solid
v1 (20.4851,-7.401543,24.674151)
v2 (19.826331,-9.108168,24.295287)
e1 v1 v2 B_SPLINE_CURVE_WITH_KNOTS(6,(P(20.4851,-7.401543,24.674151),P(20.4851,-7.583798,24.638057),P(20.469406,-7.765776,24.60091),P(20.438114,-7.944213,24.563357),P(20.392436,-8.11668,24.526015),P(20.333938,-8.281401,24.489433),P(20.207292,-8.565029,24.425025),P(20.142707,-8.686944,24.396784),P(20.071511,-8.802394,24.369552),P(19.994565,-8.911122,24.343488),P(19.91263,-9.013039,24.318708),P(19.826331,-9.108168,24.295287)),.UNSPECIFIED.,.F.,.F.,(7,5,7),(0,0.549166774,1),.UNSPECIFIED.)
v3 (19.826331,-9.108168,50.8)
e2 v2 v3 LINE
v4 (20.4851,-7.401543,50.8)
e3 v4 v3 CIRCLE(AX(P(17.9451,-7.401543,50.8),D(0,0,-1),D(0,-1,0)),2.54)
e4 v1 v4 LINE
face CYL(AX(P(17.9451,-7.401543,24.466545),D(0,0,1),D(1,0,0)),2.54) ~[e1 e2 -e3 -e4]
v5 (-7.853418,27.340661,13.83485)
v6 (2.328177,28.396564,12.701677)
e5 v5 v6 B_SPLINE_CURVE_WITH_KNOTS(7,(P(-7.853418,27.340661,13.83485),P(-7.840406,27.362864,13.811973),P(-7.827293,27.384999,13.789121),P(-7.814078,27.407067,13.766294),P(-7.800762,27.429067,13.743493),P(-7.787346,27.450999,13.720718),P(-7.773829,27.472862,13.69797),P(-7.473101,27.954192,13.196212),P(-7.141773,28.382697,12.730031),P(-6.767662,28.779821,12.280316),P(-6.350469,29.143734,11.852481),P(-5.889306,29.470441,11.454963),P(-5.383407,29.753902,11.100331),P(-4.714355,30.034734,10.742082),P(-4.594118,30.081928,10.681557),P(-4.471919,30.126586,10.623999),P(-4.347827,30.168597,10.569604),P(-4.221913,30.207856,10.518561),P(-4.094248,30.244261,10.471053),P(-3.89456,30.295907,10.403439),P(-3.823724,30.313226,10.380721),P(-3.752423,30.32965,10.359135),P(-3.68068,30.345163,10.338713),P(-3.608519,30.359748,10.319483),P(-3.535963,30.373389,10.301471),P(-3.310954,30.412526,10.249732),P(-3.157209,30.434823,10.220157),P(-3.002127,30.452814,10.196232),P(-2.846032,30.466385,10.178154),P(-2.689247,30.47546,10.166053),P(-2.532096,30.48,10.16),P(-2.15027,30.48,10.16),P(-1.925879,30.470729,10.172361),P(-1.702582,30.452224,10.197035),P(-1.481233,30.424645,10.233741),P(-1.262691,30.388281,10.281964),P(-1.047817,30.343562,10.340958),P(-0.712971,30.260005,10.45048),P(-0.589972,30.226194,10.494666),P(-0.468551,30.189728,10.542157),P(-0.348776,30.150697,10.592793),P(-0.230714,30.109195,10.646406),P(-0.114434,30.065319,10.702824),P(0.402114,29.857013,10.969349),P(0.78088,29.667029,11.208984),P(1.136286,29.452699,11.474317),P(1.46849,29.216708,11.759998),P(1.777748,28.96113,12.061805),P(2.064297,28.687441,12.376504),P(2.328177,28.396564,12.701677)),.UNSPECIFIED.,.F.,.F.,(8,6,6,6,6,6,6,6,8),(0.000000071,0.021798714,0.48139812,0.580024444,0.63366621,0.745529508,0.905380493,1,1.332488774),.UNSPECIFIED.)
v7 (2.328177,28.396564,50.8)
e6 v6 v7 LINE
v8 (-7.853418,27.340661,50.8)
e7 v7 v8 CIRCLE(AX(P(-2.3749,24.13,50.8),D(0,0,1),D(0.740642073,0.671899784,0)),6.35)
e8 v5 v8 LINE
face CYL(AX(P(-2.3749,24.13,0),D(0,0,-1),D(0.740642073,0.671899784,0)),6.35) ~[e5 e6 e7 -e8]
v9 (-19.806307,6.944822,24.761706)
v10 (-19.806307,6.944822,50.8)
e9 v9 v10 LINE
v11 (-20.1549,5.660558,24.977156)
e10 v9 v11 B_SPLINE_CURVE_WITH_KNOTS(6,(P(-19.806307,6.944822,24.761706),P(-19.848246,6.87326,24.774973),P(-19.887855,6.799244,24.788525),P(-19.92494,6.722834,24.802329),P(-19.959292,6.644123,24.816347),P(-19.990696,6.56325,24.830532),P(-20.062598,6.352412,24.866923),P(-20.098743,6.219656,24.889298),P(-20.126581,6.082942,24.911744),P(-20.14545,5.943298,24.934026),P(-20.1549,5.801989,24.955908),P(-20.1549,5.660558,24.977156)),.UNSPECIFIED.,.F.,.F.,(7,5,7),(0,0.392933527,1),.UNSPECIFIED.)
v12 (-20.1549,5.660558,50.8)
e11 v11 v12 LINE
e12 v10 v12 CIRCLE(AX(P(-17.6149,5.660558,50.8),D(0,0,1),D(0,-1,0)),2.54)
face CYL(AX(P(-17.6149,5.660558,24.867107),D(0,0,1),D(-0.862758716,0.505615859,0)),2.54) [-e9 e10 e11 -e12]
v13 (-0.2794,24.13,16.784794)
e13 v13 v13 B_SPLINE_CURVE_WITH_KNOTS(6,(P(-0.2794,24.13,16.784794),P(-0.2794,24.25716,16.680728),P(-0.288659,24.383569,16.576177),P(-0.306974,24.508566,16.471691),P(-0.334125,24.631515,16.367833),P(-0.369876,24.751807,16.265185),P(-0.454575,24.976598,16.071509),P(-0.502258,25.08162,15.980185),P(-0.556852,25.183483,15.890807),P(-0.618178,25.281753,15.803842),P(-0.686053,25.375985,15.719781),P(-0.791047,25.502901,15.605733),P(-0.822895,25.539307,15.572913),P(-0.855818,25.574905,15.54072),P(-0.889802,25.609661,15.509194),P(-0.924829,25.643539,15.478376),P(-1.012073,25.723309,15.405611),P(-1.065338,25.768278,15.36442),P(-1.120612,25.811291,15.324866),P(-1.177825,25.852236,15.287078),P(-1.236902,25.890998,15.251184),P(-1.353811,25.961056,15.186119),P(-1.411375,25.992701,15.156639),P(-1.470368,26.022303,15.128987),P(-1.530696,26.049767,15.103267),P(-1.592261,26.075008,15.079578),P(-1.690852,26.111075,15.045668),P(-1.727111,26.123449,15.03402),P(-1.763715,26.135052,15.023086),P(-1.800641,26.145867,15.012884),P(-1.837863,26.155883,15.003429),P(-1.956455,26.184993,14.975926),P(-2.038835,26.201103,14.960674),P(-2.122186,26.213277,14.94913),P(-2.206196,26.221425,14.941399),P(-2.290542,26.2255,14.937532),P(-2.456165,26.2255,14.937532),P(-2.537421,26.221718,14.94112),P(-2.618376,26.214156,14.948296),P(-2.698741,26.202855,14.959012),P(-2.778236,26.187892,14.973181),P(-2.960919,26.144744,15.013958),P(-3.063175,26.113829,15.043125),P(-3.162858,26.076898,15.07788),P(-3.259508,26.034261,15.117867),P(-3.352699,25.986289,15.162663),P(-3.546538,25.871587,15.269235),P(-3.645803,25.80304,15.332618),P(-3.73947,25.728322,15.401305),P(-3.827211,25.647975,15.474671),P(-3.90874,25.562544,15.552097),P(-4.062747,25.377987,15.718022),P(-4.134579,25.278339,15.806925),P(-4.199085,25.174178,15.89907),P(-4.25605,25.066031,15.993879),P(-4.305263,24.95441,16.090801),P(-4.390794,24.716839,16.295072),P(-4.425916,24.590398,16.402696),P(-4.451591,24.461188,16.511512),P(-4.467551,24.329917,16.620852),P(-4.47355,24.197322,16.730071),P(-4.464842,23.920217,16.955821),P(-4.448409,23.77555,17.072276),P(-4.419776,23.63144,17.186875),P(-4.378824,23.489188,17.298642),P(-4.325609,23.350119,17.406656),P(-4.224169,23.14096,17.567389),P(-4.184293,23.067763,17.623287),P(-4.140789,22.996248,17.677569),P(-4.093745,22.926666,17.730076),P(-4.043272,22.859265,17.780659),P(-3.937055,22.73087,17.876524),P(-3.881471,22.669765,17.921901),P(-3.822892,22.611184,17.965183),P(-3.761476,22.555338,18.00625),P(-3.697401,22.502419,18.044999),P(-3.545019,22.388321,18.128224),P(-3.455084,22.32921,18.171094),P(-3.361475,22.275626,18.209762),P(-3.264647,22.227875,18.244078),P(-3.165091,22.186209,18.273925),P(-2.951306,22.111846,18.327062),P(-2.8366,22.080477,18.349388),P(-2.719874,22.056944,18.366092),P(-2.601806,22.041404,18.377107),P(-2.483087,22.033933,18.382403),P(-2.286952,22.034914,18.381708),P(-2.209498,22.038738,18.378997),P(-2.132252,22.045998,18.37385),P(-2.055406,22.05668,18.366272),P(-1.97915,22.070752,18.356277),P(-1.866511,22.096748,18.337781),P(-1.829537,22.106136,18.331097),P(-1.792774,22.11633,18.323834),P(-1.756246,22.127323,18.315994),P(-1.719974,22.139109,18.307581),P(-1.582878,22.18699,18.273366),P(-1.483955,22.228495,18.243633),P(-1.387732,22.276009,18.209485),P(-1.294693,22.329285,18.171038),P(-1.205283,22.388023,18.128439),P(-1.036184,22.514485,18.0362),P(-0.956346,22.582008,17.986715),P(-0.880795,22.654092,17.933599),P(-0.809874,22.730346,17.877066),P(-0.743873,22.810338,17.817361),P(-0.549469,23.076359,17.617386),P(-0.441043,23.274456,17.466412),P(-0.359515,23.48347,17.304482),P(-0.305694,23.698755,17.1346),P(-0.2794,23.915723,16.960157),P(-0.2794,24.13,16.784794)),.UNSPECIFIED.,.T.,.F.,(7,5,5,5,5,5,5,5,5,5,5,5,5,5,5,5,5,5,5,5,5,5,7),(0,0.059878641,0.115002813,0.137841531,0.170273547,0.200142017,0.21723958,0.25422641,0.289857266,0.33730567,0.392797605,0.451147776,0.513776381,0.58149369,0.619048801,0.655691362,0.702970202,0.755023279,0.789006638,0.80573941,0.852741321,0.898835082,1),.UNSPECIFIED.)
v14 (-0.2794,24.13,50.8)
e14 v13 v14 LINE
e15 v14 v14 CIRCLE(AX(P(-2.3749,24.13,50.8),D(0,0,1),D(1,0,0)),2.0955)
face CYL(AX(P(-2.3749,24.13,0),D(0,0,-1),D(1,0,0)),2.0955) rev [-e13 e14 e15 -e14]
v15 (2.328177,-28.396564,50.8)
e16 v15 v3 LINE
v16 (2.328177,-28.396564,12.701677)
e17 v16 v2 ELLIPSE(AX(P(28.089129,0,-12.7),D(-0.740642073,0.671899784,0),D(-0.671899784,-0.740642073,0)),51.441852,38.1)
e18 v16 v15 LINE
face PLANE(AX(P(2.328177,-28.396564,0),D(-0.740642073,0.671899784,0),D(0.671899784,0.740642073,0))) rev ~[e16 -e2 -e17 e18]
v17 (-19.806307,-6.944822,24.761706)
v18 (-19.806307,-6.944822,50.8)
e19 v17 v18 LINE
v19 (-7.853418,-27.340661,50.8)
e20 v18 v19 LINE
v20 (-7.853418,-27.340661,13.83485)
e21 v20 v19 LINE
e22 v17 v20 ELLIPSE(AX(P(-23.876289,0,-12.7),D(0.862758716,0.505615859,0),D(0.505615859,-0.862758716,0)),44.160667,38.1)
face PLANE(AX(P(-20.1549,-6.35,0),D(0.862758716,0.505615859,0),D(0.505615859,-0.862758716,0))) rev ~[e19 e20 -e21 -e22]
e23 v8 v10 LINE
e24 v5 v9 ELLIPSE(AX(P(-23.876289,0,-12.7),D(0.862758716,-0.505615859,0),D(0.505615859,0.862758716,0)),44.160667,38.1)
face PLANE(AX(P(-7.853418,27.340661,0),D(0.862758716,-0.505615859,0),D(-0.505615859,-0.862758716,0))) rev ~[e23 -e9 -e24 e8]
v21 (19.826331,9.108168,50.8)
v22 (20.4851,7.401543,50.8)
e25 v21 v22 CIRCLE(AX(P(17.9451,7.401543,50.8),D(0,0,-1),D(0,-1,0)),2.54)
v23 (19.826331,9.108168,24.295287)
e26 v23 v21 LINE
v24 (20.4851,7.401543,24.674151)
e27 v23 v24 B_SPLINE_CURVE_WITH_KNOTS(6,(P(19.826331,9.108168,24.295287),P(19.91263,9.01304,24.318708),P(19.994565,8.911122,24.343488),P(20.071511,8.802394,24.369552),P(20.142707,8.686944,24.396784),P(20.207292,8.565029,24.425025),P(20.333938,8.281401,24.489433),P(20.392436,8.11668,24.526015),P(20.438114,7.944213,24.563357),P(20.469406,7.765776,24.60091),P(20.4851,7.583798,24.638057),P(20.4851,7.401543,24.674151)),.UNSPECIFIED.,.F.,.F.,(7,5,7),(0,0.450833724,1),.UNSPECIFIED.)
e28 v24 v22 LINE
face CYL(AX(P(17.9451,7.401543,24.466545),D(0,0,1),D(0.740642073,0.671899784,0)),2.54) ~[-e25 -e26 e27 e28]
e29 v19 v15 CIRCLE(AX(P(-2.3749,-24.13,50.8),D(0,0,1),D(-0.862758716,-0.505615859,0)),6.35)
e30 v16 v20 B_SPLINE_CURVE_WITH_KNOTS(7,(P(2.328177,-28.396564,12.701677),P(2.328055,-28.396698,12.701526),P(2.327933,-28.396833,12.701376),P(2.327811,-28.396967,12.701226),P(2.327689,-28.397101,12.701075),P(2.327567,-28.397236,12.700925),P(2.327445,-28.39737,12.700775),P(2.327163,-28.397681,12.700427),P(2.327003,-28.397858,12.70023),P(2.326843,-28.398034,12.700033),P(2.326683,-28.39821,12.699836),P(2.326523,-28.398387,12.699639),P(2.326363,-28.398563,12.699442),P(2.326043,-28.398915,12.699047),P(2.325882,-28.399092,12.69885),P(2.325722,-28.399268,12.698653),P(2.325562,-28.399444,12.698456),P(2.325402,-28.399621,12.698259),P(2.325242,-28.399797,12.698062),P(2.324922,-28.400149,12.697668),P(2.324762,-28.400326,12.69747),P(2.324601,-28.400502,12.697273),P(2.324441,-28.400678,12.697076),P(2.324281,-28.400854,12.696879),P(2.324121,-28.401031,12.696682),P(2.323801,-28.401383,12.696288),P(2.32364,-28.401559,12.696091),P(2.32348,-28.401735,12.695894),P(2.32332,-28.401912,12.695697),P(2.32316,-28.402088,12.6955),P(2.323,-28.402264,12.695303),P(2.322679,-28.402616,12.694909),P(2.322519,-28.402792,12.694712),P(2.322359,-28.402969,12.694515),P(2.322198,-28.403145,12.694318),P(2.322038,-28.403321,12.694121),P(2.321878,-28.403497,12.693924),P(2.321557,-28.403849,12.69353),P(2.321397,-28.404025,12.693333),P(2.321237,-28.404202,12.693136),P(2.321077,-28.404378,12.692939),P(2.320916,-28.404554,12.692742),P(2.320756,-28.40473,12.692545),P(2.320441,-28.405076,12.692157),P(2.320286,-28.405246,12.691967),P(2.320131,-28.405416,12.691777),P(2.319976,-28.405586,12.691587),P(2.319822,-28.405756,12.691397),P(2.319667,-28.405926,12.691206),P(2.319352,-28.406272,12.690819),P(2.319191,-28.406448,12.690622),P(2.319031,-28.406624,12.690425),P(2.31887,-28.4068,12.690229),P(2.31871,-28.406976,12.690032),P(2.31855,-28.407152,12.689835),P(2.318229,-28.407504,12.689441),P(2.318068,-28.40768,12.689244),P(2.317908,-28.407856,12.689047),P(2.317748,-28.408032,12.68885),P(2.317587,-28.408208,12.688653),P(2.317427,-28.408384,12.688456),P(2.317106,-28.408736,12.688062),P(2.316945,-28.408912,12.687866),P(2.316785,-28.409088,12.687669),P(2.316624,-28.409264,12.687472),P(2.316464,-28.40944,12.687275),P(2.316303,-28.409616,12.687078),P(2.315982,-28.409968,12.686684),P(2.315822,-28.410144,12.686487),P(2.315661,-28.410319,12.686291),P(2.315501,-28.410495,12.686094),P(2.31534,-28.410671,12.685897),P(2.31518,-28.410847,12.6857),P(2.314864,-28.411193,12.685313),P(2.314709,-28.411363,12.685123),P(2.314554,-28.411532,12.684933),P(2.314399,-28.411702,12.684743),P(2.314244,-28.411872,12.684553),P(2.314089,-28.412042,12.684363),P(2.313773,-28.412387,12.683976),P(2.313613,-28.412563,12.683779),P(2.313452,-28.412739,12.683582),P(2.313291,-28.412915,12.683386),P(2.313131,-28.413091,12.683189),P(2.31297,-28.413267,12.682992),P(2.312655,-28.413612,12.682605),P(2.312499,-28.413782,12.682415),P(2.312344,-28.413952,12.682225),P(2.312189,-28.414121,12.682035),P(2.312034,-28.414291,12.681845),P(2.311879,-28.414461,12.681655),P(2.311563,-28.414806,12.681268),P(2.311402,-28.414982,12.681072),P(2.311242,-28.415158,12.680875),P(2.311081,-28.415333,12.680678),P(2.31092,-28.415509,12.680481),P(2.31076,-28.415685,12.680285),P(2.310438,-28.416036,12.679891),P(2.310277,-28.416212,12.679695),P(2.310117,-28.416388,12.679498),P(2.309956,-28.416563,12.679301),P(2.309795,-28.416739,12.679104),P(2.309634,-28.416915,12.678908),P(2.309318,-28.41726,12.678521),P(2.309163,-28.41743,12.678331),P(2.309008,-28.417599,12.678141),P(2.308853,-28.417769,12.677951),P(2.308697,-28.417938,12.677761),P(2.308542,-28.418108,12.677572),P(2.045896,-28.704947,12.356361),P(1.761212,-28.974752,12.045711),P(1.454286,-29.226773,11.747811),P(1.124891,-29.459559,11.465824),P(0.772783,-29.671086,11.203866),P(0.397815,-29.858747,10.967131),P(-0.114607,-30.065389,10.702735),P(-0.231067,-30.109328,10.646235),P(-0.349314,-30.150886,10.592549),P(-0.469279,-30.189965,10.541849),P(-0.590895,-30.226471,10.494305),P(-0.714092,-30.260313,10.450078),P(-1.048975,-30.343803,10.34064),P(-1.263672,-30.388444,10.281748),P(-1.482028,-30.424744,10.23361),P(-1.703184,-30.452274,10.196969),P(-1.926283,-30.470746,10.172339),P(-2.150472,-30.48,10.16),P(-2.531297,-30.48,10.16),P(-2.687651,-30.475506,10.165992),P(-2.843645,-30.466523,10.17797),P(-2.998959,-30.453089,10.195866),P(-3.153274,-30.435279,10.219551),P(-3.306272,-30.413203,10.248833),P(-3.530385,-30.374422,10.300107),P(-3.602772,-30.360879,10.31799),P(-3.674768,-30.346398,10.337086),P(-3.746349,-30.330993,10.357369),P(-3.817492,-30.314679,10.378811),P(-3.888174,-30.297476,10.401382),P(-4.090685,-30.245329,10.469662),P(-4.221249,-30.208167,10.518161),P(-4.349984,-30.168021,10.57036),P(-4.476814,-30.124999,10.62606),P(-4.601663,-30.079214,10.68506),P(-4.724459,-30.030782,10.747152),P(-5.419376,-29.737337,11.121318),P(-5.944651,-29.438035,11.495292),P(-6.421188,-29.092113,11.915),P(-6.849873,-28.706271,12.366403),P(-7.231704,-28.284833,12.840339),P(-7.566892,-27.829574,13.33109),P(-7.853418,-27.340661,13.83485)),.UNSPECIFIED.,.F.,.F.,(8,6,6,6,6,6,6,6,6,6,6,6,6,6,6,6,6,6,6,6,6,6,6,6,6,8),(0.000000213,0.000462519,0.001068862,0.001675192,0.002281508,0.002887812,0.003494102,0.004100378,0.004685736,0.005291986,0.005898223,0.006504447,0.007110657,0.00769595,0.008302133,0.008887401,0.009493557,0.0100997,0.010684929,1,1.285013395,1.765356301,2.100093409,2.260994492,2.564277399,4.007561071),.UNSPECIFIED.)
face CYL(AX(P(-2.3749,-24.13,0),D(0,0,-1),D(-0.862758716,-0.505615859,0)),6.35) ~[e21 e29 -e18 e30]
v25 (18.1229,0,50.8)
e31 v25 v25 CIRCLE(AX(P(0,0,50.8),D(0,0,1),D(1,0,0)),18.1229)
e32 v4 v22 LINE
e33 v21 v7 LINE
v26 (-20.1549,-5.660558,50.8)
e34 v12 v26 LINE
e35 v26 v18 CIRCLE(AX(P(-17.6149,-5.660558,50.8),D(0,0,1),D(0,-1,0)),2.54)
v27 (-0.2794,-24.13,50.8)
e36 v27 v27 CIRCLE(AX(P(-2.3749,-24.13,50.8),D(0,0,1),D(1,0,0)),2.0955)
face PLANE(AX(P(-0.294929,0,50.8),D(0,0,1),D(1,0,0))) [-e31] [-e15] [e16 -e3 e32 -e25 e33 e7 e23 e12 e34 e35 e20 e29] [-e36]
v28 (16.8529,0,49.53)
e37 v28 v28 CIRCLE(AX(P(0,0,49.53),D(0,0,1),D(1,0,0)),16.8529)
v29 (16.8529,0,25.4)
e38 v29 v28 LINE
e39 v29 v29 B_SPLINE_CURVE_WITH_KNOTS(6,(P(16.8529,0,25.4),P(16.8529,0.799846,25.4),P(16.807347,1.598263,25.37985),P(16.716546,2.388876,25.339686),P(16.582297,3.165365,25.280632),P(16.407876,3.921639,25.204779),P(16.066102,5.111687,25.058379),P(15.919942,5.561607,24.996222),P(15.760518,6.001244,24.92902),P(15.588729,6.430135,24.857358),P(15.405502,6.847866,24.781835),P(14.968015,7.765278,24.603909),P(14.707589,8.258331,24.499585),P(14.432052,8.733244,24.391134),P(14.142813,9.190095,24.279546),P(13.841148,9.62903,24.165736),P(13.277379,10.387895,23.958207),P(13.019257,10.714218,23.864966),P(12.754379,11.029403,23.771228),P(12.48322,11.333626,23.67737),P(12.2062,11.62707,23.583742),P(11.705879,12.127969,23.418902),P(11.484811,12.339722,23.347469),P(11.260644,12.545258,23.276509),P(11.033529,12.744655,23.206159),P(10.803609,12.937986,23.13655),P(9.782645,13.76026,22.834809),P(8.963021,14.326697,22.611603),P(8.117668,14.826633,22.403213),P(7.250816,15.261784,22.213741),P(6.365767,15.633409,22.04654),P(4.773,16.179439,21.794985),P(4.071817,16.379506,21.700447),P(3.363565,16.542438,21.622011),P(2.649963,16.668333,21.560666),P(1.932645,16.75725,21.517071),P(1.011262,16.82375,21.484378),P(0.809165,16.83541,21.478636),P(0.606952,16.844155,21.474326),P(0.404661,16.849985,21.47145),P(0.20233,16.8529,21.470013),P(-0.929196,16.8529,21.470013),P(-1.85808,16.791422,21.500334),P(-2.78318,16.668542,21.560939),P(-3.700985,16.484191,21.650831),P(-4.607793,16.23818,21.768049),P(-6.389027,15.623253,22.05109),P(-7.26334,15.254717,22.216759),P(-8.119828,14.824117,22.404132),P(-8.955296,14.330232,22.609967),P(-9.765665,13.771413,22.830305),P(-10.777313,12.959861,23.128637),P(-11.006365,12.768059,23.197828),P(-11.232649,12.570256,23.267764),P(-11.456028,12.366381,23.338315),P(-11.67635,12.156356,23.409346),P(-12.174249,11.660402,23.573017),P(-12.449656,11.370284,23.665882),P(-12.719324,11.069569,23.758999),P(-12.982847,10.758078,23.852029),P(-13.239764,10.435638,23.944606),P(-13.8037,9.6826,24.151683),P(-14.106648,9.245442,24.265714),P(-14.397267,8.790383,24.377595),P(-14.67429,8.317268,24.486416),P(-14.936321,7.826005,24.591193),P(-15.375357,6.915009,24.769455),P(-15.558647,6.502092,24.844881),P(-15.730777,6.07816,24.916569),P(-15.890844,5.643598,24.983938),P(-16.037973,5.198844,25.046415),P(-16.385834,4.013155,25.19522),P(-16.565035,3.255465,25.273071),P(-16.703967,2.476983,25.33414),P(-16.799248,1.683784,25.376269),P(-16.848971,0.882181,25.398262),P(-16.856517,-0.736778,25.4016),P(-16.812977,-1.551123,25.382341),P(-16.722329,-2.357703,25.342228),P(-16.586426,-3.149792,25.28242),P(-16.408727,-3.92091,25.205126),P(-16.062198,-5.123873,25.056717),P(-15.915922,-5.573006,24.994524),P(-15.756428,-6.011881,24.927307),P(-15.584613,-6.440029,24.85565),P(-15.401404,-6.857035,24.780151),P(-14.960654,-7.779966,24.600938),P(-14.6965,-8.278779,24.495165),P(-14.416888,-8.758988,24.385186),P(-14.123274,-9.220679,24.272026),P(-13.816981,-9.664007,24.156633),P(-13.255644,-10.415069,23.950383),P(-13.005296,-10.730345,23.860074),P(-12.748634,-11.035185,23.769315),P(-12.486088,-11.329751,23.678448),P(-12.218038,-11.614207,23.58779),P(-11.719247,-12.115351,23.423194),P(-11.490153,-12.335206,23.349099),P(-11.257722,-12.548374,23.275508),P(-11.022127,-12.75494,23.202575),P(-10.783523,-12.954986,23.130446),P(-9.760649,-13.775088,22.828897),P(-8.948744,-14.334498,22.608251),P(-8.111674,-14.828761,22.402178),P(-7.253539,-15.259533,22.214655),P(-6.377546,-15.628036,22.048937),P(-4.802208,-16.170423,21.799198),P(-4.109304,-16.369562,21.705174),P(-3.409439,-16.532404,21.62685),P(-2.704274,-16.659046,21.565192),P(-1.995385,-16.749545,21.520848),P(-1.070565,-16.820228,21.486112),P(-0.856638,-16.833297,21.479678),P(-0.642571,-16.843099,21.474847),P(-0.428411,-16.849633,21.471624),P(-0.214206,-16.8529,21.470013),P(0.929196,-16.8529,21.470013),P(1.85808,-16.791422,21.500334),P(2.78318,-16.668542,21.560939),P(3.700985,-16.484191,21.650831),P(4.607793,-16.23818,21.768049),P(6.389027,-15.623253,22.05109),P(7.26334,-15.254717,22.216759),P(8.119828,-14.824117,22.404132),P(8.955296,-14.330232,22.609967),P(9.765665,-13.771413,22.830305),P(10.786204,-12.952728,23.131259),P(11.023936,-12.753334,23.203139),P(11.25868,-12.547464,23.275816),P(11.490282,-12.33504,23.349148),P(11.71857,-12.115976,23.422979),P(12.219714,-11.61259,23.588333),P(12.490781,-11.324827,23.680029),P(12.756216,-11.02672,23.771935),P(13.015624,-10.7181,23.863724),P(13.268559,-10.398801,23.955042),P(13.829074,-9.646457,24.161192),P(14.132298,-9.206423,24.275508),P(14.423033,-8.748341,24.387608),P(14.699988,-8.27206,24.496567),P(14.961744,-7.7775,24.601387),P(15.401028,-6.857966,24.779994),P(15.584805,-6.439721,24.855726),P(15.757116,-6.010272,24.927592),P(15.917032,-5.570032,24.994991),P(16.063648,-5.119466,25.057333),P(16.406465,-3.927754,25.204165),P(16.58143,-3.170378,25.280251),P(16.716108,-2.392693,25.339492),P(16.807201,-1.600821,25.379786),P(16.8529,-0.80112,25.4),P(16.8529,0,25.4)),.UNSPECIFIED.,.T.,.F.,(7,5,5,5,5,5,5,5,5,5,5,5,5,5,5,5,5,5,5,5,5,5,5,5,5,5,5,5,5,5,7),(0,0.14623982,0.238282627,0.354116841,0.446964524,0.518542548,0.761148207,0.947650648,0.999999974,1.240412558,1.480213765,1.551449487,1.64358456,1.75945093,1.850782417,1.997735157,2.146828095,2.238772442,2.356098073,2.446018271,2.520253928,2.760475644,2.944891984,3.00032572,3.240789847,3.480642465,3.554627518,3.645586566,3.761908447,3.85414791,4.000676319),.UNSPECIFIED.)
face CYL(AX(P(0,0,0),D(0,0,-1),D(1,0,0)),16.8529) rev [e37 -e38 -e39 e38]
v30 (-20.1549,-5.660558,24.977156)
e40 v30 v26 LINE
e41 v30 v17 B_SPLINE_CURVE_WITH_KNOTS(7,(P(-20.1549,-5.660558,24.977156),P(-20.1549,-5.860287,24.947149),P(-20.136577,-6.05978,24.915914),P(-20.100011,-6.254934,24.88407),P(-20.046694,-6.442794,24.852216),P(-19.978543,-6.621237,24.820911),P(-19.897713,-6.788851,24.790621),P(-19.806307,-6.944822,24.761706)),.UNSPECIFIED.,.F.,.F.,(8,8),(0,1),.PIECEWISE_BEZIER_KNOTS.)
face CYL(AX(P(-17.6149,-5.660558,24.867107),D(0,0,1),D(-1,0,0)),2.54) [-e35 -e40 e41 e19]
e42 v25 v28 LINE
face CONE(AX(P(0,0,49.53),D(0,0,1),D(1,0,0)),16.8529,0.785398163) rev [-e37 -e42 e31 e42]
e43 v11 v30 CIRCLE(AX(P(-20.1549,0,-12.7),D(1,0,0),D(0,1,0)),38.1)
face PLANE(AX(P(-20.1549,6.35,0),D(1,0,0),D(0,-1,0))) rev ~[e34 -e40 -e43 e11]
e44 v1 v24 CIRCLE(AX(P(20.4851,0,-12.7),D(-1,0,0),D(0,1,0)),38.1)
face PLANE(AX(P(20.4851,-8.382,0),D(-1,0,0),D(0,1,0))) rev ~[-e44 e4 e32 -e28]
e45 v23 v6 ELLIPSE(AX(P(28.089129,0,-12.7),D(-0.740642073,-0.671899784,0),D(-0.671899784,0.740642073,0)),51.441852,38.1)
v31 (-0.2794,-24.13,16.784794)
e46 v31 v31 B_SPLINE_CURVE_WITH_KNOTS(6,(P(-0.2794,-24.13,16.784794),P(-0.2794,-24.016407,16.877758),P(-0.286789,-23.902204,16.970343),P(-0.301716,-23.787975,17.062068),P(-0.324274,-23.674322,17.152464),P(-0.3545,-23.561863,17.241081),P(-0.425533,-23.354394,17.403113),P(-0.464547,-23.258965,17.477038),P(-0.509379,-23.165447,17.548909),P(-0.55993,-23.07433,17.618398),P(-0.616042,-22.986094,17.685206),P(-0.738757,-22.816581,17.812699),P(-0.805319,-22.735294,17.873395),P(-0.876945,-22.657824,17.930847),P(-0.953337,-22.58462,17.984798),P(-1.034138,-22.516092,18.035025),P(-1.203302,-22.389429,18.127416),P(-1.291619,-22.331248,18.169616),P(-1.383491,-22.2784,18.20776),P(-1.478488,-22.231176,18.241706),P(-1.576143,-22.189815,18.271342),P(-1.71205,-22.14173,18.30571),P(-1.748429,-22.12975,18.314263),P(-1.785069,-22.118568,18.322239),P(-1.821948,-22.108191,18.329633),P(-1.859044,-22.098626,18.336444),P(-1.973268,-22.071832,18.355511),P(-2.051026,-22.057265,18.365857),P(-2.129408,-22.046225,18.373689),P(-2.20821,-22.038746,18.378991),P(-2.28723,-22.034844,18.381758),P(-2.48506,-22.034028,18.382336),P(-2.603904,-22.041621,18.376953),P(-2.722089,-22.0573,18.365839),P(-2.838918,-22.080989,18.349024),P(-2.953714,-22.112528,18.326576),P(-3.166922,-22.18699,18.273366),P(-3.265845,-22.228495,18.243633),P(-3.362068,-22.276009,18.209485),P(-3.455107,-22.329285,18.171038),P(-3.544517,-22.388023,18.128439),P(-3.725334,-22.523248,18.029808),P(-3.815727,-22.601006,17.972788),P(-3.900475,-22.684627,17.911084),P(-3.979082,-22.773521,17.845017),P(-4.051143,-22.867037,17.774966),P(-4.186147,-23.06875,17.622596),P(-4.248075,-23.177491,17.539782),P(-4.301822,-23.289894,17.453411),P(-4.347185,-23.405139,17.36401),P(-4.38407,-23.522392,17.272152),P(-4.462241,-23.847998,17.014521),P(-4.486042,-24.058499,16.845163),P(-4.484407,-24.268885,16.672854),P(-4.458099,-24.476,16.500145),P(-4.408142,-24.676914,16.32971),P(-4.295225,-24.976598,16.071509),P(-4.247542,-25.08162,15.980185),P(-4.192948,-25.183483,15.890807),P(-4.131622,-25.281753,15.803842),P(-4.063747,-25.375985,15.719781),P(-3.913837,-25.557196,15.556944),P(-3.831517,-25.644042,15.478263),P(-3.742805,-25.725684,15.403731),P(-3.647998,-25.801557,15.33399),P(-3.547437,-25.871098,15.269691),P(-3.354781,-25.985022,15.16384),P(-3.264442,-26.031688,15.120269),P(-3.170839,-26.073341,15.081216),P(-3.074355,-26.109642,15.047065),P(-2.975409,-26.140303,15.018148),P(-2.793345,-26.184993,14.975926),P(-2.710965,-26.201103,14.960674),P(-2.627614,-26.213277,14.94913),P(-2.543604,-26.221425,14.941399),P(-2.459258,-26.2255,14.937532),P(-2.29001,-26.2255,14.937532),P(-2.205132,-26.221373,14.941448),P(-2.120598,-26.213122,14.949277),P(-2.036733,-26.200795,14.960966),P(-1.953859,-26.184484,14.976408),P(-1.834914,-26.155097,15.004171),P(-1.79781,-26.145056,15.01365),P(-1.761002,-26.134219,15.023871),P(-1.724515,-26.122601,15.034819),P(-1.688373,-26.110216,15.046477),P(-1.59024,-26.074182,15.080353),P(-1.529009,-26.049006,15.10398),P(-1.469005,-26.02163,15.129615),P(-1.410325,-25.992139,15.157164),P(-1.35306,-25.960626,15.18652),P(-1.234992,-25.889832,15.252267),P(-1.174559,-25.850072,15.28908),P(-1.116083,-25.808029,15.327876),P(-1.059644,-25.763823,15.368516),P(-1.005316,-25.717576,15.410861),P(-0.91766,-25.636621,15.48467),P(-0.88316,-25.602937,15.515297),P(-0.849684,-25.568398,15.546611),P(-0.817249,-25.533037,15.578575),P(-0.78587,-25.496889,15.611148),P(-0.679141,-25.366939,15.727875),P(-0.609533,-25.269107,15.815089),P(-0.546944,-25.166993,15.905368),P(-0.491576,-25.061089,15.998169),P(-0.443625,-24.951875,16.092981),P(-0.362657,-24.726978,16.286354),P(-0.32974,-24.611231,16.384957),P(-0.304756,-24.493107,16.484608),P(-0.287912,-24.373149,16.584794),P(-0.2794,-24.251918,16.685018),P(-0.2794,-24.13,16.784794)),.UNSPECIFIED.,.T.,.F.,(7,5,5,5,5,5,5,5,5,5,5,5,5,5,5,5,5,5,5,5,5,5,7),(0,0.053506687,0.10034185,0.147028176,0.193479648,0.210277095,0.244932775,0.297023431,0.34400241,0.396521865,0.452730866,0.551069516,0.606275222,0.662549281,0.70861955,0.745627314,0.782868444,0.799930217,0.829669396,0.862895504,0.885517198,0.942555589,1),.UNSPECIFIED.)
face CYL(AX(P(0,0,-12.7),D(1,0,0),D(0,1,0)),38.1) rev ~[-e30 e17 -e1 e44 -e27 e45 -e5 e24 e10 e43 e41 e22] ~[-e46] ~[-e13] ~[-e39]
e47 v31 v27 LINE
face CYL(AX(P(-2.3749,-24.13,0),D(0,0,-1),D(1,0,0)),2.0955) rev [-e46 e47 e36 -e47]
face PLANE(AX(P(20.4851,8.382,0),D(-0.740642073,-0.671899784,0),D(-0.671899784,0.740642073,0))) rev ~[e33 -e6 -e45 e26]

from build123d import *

# Parameters (mm, degrees)
F0_R          = 2.0955
F0_R_2        = 16.8529
F1_DEPTH      = 50.8
F2_R          = 38.1
F3_DEPTH      = 73.152
F3_DEPTH_BACK = 54.61
F4_SIZE       = 1.27
F5_R          = 2.54


with BuildPart() as f1:
    # F0 (on Top) → F1 (new body)
    with BuildSketch(Plane.XY):
        with BuildLine():
            Line((-7.8534178495, 27.3406607066), (-20.1549, 6.35))
            Line((-20.1549, 6.35), (-20.1549, -6.35))
            Line((-20.1549, -6.35), (-7.8534178495, -27.3406607066))
            ThreePointArc((-7.8534178495, -27.3406607066), (-3.0299265704, -30.4461254098), (2.328177165, -28.3965636266))
            Line((2.328177165, -28.3965636266), (20.4851, -8.382))
            Line((20.4851, -8.382), (20.4851, 8.382))
            Line((20.4851, 8.382), (2.328177165, 28.3965636266))
            ThreePointArc((2.328177165, 28.3965636266), (-3.0299265704, 30.4461254098), (-7.8534178495, 27.3406607066))
        make_face()
        with Locations((-2.3749, -24.13)):
            Circle(F0_R, mode=Mode.SUBTRACT)
        Circle(F0_R_2, mode=Mode.SUBTRACT)
        with Locations((-2.3749, 24.13)):
            Circle(F0_R, mode=Mode.SUBTRACT)
    extrude(amount=F1_DEPTH)

    # F2 (on Right) → F3 (cut, two sides)
    with BuildSketch(Plane.YZ) as f3_sk:
        with Locations((0, -12.7)):
            Circle(F2_R)
    extrude(amount=-F3_DEPTH, mode=Mode.SUBTRACT)
    extrude(f3_sk.sketch, amount=F3_DEPTH_BACK, mode=Mode.SUBTRACT)

    # F4
    f4_edges = [f1.edges().sort_by_distance(p)[0] for p in [
        (-16.8529, 0, 50.8),
    ]]
    chamfer(f4_edges, length=F4_SIZE)

    # F5
    f5_edges = [f1.edges().sort_by_distance(p)[0] for p in [
        (20.4851, 8.382, 37.633273),
        (-20.1549, 6.35, 37.833553),
        (-20.1549, -6.35, 37.833553),
        (20.4851, -8.382, 37.633273),
    ]]
    fillet(f5_edges, radius=F5_R)


solid = f1.part
